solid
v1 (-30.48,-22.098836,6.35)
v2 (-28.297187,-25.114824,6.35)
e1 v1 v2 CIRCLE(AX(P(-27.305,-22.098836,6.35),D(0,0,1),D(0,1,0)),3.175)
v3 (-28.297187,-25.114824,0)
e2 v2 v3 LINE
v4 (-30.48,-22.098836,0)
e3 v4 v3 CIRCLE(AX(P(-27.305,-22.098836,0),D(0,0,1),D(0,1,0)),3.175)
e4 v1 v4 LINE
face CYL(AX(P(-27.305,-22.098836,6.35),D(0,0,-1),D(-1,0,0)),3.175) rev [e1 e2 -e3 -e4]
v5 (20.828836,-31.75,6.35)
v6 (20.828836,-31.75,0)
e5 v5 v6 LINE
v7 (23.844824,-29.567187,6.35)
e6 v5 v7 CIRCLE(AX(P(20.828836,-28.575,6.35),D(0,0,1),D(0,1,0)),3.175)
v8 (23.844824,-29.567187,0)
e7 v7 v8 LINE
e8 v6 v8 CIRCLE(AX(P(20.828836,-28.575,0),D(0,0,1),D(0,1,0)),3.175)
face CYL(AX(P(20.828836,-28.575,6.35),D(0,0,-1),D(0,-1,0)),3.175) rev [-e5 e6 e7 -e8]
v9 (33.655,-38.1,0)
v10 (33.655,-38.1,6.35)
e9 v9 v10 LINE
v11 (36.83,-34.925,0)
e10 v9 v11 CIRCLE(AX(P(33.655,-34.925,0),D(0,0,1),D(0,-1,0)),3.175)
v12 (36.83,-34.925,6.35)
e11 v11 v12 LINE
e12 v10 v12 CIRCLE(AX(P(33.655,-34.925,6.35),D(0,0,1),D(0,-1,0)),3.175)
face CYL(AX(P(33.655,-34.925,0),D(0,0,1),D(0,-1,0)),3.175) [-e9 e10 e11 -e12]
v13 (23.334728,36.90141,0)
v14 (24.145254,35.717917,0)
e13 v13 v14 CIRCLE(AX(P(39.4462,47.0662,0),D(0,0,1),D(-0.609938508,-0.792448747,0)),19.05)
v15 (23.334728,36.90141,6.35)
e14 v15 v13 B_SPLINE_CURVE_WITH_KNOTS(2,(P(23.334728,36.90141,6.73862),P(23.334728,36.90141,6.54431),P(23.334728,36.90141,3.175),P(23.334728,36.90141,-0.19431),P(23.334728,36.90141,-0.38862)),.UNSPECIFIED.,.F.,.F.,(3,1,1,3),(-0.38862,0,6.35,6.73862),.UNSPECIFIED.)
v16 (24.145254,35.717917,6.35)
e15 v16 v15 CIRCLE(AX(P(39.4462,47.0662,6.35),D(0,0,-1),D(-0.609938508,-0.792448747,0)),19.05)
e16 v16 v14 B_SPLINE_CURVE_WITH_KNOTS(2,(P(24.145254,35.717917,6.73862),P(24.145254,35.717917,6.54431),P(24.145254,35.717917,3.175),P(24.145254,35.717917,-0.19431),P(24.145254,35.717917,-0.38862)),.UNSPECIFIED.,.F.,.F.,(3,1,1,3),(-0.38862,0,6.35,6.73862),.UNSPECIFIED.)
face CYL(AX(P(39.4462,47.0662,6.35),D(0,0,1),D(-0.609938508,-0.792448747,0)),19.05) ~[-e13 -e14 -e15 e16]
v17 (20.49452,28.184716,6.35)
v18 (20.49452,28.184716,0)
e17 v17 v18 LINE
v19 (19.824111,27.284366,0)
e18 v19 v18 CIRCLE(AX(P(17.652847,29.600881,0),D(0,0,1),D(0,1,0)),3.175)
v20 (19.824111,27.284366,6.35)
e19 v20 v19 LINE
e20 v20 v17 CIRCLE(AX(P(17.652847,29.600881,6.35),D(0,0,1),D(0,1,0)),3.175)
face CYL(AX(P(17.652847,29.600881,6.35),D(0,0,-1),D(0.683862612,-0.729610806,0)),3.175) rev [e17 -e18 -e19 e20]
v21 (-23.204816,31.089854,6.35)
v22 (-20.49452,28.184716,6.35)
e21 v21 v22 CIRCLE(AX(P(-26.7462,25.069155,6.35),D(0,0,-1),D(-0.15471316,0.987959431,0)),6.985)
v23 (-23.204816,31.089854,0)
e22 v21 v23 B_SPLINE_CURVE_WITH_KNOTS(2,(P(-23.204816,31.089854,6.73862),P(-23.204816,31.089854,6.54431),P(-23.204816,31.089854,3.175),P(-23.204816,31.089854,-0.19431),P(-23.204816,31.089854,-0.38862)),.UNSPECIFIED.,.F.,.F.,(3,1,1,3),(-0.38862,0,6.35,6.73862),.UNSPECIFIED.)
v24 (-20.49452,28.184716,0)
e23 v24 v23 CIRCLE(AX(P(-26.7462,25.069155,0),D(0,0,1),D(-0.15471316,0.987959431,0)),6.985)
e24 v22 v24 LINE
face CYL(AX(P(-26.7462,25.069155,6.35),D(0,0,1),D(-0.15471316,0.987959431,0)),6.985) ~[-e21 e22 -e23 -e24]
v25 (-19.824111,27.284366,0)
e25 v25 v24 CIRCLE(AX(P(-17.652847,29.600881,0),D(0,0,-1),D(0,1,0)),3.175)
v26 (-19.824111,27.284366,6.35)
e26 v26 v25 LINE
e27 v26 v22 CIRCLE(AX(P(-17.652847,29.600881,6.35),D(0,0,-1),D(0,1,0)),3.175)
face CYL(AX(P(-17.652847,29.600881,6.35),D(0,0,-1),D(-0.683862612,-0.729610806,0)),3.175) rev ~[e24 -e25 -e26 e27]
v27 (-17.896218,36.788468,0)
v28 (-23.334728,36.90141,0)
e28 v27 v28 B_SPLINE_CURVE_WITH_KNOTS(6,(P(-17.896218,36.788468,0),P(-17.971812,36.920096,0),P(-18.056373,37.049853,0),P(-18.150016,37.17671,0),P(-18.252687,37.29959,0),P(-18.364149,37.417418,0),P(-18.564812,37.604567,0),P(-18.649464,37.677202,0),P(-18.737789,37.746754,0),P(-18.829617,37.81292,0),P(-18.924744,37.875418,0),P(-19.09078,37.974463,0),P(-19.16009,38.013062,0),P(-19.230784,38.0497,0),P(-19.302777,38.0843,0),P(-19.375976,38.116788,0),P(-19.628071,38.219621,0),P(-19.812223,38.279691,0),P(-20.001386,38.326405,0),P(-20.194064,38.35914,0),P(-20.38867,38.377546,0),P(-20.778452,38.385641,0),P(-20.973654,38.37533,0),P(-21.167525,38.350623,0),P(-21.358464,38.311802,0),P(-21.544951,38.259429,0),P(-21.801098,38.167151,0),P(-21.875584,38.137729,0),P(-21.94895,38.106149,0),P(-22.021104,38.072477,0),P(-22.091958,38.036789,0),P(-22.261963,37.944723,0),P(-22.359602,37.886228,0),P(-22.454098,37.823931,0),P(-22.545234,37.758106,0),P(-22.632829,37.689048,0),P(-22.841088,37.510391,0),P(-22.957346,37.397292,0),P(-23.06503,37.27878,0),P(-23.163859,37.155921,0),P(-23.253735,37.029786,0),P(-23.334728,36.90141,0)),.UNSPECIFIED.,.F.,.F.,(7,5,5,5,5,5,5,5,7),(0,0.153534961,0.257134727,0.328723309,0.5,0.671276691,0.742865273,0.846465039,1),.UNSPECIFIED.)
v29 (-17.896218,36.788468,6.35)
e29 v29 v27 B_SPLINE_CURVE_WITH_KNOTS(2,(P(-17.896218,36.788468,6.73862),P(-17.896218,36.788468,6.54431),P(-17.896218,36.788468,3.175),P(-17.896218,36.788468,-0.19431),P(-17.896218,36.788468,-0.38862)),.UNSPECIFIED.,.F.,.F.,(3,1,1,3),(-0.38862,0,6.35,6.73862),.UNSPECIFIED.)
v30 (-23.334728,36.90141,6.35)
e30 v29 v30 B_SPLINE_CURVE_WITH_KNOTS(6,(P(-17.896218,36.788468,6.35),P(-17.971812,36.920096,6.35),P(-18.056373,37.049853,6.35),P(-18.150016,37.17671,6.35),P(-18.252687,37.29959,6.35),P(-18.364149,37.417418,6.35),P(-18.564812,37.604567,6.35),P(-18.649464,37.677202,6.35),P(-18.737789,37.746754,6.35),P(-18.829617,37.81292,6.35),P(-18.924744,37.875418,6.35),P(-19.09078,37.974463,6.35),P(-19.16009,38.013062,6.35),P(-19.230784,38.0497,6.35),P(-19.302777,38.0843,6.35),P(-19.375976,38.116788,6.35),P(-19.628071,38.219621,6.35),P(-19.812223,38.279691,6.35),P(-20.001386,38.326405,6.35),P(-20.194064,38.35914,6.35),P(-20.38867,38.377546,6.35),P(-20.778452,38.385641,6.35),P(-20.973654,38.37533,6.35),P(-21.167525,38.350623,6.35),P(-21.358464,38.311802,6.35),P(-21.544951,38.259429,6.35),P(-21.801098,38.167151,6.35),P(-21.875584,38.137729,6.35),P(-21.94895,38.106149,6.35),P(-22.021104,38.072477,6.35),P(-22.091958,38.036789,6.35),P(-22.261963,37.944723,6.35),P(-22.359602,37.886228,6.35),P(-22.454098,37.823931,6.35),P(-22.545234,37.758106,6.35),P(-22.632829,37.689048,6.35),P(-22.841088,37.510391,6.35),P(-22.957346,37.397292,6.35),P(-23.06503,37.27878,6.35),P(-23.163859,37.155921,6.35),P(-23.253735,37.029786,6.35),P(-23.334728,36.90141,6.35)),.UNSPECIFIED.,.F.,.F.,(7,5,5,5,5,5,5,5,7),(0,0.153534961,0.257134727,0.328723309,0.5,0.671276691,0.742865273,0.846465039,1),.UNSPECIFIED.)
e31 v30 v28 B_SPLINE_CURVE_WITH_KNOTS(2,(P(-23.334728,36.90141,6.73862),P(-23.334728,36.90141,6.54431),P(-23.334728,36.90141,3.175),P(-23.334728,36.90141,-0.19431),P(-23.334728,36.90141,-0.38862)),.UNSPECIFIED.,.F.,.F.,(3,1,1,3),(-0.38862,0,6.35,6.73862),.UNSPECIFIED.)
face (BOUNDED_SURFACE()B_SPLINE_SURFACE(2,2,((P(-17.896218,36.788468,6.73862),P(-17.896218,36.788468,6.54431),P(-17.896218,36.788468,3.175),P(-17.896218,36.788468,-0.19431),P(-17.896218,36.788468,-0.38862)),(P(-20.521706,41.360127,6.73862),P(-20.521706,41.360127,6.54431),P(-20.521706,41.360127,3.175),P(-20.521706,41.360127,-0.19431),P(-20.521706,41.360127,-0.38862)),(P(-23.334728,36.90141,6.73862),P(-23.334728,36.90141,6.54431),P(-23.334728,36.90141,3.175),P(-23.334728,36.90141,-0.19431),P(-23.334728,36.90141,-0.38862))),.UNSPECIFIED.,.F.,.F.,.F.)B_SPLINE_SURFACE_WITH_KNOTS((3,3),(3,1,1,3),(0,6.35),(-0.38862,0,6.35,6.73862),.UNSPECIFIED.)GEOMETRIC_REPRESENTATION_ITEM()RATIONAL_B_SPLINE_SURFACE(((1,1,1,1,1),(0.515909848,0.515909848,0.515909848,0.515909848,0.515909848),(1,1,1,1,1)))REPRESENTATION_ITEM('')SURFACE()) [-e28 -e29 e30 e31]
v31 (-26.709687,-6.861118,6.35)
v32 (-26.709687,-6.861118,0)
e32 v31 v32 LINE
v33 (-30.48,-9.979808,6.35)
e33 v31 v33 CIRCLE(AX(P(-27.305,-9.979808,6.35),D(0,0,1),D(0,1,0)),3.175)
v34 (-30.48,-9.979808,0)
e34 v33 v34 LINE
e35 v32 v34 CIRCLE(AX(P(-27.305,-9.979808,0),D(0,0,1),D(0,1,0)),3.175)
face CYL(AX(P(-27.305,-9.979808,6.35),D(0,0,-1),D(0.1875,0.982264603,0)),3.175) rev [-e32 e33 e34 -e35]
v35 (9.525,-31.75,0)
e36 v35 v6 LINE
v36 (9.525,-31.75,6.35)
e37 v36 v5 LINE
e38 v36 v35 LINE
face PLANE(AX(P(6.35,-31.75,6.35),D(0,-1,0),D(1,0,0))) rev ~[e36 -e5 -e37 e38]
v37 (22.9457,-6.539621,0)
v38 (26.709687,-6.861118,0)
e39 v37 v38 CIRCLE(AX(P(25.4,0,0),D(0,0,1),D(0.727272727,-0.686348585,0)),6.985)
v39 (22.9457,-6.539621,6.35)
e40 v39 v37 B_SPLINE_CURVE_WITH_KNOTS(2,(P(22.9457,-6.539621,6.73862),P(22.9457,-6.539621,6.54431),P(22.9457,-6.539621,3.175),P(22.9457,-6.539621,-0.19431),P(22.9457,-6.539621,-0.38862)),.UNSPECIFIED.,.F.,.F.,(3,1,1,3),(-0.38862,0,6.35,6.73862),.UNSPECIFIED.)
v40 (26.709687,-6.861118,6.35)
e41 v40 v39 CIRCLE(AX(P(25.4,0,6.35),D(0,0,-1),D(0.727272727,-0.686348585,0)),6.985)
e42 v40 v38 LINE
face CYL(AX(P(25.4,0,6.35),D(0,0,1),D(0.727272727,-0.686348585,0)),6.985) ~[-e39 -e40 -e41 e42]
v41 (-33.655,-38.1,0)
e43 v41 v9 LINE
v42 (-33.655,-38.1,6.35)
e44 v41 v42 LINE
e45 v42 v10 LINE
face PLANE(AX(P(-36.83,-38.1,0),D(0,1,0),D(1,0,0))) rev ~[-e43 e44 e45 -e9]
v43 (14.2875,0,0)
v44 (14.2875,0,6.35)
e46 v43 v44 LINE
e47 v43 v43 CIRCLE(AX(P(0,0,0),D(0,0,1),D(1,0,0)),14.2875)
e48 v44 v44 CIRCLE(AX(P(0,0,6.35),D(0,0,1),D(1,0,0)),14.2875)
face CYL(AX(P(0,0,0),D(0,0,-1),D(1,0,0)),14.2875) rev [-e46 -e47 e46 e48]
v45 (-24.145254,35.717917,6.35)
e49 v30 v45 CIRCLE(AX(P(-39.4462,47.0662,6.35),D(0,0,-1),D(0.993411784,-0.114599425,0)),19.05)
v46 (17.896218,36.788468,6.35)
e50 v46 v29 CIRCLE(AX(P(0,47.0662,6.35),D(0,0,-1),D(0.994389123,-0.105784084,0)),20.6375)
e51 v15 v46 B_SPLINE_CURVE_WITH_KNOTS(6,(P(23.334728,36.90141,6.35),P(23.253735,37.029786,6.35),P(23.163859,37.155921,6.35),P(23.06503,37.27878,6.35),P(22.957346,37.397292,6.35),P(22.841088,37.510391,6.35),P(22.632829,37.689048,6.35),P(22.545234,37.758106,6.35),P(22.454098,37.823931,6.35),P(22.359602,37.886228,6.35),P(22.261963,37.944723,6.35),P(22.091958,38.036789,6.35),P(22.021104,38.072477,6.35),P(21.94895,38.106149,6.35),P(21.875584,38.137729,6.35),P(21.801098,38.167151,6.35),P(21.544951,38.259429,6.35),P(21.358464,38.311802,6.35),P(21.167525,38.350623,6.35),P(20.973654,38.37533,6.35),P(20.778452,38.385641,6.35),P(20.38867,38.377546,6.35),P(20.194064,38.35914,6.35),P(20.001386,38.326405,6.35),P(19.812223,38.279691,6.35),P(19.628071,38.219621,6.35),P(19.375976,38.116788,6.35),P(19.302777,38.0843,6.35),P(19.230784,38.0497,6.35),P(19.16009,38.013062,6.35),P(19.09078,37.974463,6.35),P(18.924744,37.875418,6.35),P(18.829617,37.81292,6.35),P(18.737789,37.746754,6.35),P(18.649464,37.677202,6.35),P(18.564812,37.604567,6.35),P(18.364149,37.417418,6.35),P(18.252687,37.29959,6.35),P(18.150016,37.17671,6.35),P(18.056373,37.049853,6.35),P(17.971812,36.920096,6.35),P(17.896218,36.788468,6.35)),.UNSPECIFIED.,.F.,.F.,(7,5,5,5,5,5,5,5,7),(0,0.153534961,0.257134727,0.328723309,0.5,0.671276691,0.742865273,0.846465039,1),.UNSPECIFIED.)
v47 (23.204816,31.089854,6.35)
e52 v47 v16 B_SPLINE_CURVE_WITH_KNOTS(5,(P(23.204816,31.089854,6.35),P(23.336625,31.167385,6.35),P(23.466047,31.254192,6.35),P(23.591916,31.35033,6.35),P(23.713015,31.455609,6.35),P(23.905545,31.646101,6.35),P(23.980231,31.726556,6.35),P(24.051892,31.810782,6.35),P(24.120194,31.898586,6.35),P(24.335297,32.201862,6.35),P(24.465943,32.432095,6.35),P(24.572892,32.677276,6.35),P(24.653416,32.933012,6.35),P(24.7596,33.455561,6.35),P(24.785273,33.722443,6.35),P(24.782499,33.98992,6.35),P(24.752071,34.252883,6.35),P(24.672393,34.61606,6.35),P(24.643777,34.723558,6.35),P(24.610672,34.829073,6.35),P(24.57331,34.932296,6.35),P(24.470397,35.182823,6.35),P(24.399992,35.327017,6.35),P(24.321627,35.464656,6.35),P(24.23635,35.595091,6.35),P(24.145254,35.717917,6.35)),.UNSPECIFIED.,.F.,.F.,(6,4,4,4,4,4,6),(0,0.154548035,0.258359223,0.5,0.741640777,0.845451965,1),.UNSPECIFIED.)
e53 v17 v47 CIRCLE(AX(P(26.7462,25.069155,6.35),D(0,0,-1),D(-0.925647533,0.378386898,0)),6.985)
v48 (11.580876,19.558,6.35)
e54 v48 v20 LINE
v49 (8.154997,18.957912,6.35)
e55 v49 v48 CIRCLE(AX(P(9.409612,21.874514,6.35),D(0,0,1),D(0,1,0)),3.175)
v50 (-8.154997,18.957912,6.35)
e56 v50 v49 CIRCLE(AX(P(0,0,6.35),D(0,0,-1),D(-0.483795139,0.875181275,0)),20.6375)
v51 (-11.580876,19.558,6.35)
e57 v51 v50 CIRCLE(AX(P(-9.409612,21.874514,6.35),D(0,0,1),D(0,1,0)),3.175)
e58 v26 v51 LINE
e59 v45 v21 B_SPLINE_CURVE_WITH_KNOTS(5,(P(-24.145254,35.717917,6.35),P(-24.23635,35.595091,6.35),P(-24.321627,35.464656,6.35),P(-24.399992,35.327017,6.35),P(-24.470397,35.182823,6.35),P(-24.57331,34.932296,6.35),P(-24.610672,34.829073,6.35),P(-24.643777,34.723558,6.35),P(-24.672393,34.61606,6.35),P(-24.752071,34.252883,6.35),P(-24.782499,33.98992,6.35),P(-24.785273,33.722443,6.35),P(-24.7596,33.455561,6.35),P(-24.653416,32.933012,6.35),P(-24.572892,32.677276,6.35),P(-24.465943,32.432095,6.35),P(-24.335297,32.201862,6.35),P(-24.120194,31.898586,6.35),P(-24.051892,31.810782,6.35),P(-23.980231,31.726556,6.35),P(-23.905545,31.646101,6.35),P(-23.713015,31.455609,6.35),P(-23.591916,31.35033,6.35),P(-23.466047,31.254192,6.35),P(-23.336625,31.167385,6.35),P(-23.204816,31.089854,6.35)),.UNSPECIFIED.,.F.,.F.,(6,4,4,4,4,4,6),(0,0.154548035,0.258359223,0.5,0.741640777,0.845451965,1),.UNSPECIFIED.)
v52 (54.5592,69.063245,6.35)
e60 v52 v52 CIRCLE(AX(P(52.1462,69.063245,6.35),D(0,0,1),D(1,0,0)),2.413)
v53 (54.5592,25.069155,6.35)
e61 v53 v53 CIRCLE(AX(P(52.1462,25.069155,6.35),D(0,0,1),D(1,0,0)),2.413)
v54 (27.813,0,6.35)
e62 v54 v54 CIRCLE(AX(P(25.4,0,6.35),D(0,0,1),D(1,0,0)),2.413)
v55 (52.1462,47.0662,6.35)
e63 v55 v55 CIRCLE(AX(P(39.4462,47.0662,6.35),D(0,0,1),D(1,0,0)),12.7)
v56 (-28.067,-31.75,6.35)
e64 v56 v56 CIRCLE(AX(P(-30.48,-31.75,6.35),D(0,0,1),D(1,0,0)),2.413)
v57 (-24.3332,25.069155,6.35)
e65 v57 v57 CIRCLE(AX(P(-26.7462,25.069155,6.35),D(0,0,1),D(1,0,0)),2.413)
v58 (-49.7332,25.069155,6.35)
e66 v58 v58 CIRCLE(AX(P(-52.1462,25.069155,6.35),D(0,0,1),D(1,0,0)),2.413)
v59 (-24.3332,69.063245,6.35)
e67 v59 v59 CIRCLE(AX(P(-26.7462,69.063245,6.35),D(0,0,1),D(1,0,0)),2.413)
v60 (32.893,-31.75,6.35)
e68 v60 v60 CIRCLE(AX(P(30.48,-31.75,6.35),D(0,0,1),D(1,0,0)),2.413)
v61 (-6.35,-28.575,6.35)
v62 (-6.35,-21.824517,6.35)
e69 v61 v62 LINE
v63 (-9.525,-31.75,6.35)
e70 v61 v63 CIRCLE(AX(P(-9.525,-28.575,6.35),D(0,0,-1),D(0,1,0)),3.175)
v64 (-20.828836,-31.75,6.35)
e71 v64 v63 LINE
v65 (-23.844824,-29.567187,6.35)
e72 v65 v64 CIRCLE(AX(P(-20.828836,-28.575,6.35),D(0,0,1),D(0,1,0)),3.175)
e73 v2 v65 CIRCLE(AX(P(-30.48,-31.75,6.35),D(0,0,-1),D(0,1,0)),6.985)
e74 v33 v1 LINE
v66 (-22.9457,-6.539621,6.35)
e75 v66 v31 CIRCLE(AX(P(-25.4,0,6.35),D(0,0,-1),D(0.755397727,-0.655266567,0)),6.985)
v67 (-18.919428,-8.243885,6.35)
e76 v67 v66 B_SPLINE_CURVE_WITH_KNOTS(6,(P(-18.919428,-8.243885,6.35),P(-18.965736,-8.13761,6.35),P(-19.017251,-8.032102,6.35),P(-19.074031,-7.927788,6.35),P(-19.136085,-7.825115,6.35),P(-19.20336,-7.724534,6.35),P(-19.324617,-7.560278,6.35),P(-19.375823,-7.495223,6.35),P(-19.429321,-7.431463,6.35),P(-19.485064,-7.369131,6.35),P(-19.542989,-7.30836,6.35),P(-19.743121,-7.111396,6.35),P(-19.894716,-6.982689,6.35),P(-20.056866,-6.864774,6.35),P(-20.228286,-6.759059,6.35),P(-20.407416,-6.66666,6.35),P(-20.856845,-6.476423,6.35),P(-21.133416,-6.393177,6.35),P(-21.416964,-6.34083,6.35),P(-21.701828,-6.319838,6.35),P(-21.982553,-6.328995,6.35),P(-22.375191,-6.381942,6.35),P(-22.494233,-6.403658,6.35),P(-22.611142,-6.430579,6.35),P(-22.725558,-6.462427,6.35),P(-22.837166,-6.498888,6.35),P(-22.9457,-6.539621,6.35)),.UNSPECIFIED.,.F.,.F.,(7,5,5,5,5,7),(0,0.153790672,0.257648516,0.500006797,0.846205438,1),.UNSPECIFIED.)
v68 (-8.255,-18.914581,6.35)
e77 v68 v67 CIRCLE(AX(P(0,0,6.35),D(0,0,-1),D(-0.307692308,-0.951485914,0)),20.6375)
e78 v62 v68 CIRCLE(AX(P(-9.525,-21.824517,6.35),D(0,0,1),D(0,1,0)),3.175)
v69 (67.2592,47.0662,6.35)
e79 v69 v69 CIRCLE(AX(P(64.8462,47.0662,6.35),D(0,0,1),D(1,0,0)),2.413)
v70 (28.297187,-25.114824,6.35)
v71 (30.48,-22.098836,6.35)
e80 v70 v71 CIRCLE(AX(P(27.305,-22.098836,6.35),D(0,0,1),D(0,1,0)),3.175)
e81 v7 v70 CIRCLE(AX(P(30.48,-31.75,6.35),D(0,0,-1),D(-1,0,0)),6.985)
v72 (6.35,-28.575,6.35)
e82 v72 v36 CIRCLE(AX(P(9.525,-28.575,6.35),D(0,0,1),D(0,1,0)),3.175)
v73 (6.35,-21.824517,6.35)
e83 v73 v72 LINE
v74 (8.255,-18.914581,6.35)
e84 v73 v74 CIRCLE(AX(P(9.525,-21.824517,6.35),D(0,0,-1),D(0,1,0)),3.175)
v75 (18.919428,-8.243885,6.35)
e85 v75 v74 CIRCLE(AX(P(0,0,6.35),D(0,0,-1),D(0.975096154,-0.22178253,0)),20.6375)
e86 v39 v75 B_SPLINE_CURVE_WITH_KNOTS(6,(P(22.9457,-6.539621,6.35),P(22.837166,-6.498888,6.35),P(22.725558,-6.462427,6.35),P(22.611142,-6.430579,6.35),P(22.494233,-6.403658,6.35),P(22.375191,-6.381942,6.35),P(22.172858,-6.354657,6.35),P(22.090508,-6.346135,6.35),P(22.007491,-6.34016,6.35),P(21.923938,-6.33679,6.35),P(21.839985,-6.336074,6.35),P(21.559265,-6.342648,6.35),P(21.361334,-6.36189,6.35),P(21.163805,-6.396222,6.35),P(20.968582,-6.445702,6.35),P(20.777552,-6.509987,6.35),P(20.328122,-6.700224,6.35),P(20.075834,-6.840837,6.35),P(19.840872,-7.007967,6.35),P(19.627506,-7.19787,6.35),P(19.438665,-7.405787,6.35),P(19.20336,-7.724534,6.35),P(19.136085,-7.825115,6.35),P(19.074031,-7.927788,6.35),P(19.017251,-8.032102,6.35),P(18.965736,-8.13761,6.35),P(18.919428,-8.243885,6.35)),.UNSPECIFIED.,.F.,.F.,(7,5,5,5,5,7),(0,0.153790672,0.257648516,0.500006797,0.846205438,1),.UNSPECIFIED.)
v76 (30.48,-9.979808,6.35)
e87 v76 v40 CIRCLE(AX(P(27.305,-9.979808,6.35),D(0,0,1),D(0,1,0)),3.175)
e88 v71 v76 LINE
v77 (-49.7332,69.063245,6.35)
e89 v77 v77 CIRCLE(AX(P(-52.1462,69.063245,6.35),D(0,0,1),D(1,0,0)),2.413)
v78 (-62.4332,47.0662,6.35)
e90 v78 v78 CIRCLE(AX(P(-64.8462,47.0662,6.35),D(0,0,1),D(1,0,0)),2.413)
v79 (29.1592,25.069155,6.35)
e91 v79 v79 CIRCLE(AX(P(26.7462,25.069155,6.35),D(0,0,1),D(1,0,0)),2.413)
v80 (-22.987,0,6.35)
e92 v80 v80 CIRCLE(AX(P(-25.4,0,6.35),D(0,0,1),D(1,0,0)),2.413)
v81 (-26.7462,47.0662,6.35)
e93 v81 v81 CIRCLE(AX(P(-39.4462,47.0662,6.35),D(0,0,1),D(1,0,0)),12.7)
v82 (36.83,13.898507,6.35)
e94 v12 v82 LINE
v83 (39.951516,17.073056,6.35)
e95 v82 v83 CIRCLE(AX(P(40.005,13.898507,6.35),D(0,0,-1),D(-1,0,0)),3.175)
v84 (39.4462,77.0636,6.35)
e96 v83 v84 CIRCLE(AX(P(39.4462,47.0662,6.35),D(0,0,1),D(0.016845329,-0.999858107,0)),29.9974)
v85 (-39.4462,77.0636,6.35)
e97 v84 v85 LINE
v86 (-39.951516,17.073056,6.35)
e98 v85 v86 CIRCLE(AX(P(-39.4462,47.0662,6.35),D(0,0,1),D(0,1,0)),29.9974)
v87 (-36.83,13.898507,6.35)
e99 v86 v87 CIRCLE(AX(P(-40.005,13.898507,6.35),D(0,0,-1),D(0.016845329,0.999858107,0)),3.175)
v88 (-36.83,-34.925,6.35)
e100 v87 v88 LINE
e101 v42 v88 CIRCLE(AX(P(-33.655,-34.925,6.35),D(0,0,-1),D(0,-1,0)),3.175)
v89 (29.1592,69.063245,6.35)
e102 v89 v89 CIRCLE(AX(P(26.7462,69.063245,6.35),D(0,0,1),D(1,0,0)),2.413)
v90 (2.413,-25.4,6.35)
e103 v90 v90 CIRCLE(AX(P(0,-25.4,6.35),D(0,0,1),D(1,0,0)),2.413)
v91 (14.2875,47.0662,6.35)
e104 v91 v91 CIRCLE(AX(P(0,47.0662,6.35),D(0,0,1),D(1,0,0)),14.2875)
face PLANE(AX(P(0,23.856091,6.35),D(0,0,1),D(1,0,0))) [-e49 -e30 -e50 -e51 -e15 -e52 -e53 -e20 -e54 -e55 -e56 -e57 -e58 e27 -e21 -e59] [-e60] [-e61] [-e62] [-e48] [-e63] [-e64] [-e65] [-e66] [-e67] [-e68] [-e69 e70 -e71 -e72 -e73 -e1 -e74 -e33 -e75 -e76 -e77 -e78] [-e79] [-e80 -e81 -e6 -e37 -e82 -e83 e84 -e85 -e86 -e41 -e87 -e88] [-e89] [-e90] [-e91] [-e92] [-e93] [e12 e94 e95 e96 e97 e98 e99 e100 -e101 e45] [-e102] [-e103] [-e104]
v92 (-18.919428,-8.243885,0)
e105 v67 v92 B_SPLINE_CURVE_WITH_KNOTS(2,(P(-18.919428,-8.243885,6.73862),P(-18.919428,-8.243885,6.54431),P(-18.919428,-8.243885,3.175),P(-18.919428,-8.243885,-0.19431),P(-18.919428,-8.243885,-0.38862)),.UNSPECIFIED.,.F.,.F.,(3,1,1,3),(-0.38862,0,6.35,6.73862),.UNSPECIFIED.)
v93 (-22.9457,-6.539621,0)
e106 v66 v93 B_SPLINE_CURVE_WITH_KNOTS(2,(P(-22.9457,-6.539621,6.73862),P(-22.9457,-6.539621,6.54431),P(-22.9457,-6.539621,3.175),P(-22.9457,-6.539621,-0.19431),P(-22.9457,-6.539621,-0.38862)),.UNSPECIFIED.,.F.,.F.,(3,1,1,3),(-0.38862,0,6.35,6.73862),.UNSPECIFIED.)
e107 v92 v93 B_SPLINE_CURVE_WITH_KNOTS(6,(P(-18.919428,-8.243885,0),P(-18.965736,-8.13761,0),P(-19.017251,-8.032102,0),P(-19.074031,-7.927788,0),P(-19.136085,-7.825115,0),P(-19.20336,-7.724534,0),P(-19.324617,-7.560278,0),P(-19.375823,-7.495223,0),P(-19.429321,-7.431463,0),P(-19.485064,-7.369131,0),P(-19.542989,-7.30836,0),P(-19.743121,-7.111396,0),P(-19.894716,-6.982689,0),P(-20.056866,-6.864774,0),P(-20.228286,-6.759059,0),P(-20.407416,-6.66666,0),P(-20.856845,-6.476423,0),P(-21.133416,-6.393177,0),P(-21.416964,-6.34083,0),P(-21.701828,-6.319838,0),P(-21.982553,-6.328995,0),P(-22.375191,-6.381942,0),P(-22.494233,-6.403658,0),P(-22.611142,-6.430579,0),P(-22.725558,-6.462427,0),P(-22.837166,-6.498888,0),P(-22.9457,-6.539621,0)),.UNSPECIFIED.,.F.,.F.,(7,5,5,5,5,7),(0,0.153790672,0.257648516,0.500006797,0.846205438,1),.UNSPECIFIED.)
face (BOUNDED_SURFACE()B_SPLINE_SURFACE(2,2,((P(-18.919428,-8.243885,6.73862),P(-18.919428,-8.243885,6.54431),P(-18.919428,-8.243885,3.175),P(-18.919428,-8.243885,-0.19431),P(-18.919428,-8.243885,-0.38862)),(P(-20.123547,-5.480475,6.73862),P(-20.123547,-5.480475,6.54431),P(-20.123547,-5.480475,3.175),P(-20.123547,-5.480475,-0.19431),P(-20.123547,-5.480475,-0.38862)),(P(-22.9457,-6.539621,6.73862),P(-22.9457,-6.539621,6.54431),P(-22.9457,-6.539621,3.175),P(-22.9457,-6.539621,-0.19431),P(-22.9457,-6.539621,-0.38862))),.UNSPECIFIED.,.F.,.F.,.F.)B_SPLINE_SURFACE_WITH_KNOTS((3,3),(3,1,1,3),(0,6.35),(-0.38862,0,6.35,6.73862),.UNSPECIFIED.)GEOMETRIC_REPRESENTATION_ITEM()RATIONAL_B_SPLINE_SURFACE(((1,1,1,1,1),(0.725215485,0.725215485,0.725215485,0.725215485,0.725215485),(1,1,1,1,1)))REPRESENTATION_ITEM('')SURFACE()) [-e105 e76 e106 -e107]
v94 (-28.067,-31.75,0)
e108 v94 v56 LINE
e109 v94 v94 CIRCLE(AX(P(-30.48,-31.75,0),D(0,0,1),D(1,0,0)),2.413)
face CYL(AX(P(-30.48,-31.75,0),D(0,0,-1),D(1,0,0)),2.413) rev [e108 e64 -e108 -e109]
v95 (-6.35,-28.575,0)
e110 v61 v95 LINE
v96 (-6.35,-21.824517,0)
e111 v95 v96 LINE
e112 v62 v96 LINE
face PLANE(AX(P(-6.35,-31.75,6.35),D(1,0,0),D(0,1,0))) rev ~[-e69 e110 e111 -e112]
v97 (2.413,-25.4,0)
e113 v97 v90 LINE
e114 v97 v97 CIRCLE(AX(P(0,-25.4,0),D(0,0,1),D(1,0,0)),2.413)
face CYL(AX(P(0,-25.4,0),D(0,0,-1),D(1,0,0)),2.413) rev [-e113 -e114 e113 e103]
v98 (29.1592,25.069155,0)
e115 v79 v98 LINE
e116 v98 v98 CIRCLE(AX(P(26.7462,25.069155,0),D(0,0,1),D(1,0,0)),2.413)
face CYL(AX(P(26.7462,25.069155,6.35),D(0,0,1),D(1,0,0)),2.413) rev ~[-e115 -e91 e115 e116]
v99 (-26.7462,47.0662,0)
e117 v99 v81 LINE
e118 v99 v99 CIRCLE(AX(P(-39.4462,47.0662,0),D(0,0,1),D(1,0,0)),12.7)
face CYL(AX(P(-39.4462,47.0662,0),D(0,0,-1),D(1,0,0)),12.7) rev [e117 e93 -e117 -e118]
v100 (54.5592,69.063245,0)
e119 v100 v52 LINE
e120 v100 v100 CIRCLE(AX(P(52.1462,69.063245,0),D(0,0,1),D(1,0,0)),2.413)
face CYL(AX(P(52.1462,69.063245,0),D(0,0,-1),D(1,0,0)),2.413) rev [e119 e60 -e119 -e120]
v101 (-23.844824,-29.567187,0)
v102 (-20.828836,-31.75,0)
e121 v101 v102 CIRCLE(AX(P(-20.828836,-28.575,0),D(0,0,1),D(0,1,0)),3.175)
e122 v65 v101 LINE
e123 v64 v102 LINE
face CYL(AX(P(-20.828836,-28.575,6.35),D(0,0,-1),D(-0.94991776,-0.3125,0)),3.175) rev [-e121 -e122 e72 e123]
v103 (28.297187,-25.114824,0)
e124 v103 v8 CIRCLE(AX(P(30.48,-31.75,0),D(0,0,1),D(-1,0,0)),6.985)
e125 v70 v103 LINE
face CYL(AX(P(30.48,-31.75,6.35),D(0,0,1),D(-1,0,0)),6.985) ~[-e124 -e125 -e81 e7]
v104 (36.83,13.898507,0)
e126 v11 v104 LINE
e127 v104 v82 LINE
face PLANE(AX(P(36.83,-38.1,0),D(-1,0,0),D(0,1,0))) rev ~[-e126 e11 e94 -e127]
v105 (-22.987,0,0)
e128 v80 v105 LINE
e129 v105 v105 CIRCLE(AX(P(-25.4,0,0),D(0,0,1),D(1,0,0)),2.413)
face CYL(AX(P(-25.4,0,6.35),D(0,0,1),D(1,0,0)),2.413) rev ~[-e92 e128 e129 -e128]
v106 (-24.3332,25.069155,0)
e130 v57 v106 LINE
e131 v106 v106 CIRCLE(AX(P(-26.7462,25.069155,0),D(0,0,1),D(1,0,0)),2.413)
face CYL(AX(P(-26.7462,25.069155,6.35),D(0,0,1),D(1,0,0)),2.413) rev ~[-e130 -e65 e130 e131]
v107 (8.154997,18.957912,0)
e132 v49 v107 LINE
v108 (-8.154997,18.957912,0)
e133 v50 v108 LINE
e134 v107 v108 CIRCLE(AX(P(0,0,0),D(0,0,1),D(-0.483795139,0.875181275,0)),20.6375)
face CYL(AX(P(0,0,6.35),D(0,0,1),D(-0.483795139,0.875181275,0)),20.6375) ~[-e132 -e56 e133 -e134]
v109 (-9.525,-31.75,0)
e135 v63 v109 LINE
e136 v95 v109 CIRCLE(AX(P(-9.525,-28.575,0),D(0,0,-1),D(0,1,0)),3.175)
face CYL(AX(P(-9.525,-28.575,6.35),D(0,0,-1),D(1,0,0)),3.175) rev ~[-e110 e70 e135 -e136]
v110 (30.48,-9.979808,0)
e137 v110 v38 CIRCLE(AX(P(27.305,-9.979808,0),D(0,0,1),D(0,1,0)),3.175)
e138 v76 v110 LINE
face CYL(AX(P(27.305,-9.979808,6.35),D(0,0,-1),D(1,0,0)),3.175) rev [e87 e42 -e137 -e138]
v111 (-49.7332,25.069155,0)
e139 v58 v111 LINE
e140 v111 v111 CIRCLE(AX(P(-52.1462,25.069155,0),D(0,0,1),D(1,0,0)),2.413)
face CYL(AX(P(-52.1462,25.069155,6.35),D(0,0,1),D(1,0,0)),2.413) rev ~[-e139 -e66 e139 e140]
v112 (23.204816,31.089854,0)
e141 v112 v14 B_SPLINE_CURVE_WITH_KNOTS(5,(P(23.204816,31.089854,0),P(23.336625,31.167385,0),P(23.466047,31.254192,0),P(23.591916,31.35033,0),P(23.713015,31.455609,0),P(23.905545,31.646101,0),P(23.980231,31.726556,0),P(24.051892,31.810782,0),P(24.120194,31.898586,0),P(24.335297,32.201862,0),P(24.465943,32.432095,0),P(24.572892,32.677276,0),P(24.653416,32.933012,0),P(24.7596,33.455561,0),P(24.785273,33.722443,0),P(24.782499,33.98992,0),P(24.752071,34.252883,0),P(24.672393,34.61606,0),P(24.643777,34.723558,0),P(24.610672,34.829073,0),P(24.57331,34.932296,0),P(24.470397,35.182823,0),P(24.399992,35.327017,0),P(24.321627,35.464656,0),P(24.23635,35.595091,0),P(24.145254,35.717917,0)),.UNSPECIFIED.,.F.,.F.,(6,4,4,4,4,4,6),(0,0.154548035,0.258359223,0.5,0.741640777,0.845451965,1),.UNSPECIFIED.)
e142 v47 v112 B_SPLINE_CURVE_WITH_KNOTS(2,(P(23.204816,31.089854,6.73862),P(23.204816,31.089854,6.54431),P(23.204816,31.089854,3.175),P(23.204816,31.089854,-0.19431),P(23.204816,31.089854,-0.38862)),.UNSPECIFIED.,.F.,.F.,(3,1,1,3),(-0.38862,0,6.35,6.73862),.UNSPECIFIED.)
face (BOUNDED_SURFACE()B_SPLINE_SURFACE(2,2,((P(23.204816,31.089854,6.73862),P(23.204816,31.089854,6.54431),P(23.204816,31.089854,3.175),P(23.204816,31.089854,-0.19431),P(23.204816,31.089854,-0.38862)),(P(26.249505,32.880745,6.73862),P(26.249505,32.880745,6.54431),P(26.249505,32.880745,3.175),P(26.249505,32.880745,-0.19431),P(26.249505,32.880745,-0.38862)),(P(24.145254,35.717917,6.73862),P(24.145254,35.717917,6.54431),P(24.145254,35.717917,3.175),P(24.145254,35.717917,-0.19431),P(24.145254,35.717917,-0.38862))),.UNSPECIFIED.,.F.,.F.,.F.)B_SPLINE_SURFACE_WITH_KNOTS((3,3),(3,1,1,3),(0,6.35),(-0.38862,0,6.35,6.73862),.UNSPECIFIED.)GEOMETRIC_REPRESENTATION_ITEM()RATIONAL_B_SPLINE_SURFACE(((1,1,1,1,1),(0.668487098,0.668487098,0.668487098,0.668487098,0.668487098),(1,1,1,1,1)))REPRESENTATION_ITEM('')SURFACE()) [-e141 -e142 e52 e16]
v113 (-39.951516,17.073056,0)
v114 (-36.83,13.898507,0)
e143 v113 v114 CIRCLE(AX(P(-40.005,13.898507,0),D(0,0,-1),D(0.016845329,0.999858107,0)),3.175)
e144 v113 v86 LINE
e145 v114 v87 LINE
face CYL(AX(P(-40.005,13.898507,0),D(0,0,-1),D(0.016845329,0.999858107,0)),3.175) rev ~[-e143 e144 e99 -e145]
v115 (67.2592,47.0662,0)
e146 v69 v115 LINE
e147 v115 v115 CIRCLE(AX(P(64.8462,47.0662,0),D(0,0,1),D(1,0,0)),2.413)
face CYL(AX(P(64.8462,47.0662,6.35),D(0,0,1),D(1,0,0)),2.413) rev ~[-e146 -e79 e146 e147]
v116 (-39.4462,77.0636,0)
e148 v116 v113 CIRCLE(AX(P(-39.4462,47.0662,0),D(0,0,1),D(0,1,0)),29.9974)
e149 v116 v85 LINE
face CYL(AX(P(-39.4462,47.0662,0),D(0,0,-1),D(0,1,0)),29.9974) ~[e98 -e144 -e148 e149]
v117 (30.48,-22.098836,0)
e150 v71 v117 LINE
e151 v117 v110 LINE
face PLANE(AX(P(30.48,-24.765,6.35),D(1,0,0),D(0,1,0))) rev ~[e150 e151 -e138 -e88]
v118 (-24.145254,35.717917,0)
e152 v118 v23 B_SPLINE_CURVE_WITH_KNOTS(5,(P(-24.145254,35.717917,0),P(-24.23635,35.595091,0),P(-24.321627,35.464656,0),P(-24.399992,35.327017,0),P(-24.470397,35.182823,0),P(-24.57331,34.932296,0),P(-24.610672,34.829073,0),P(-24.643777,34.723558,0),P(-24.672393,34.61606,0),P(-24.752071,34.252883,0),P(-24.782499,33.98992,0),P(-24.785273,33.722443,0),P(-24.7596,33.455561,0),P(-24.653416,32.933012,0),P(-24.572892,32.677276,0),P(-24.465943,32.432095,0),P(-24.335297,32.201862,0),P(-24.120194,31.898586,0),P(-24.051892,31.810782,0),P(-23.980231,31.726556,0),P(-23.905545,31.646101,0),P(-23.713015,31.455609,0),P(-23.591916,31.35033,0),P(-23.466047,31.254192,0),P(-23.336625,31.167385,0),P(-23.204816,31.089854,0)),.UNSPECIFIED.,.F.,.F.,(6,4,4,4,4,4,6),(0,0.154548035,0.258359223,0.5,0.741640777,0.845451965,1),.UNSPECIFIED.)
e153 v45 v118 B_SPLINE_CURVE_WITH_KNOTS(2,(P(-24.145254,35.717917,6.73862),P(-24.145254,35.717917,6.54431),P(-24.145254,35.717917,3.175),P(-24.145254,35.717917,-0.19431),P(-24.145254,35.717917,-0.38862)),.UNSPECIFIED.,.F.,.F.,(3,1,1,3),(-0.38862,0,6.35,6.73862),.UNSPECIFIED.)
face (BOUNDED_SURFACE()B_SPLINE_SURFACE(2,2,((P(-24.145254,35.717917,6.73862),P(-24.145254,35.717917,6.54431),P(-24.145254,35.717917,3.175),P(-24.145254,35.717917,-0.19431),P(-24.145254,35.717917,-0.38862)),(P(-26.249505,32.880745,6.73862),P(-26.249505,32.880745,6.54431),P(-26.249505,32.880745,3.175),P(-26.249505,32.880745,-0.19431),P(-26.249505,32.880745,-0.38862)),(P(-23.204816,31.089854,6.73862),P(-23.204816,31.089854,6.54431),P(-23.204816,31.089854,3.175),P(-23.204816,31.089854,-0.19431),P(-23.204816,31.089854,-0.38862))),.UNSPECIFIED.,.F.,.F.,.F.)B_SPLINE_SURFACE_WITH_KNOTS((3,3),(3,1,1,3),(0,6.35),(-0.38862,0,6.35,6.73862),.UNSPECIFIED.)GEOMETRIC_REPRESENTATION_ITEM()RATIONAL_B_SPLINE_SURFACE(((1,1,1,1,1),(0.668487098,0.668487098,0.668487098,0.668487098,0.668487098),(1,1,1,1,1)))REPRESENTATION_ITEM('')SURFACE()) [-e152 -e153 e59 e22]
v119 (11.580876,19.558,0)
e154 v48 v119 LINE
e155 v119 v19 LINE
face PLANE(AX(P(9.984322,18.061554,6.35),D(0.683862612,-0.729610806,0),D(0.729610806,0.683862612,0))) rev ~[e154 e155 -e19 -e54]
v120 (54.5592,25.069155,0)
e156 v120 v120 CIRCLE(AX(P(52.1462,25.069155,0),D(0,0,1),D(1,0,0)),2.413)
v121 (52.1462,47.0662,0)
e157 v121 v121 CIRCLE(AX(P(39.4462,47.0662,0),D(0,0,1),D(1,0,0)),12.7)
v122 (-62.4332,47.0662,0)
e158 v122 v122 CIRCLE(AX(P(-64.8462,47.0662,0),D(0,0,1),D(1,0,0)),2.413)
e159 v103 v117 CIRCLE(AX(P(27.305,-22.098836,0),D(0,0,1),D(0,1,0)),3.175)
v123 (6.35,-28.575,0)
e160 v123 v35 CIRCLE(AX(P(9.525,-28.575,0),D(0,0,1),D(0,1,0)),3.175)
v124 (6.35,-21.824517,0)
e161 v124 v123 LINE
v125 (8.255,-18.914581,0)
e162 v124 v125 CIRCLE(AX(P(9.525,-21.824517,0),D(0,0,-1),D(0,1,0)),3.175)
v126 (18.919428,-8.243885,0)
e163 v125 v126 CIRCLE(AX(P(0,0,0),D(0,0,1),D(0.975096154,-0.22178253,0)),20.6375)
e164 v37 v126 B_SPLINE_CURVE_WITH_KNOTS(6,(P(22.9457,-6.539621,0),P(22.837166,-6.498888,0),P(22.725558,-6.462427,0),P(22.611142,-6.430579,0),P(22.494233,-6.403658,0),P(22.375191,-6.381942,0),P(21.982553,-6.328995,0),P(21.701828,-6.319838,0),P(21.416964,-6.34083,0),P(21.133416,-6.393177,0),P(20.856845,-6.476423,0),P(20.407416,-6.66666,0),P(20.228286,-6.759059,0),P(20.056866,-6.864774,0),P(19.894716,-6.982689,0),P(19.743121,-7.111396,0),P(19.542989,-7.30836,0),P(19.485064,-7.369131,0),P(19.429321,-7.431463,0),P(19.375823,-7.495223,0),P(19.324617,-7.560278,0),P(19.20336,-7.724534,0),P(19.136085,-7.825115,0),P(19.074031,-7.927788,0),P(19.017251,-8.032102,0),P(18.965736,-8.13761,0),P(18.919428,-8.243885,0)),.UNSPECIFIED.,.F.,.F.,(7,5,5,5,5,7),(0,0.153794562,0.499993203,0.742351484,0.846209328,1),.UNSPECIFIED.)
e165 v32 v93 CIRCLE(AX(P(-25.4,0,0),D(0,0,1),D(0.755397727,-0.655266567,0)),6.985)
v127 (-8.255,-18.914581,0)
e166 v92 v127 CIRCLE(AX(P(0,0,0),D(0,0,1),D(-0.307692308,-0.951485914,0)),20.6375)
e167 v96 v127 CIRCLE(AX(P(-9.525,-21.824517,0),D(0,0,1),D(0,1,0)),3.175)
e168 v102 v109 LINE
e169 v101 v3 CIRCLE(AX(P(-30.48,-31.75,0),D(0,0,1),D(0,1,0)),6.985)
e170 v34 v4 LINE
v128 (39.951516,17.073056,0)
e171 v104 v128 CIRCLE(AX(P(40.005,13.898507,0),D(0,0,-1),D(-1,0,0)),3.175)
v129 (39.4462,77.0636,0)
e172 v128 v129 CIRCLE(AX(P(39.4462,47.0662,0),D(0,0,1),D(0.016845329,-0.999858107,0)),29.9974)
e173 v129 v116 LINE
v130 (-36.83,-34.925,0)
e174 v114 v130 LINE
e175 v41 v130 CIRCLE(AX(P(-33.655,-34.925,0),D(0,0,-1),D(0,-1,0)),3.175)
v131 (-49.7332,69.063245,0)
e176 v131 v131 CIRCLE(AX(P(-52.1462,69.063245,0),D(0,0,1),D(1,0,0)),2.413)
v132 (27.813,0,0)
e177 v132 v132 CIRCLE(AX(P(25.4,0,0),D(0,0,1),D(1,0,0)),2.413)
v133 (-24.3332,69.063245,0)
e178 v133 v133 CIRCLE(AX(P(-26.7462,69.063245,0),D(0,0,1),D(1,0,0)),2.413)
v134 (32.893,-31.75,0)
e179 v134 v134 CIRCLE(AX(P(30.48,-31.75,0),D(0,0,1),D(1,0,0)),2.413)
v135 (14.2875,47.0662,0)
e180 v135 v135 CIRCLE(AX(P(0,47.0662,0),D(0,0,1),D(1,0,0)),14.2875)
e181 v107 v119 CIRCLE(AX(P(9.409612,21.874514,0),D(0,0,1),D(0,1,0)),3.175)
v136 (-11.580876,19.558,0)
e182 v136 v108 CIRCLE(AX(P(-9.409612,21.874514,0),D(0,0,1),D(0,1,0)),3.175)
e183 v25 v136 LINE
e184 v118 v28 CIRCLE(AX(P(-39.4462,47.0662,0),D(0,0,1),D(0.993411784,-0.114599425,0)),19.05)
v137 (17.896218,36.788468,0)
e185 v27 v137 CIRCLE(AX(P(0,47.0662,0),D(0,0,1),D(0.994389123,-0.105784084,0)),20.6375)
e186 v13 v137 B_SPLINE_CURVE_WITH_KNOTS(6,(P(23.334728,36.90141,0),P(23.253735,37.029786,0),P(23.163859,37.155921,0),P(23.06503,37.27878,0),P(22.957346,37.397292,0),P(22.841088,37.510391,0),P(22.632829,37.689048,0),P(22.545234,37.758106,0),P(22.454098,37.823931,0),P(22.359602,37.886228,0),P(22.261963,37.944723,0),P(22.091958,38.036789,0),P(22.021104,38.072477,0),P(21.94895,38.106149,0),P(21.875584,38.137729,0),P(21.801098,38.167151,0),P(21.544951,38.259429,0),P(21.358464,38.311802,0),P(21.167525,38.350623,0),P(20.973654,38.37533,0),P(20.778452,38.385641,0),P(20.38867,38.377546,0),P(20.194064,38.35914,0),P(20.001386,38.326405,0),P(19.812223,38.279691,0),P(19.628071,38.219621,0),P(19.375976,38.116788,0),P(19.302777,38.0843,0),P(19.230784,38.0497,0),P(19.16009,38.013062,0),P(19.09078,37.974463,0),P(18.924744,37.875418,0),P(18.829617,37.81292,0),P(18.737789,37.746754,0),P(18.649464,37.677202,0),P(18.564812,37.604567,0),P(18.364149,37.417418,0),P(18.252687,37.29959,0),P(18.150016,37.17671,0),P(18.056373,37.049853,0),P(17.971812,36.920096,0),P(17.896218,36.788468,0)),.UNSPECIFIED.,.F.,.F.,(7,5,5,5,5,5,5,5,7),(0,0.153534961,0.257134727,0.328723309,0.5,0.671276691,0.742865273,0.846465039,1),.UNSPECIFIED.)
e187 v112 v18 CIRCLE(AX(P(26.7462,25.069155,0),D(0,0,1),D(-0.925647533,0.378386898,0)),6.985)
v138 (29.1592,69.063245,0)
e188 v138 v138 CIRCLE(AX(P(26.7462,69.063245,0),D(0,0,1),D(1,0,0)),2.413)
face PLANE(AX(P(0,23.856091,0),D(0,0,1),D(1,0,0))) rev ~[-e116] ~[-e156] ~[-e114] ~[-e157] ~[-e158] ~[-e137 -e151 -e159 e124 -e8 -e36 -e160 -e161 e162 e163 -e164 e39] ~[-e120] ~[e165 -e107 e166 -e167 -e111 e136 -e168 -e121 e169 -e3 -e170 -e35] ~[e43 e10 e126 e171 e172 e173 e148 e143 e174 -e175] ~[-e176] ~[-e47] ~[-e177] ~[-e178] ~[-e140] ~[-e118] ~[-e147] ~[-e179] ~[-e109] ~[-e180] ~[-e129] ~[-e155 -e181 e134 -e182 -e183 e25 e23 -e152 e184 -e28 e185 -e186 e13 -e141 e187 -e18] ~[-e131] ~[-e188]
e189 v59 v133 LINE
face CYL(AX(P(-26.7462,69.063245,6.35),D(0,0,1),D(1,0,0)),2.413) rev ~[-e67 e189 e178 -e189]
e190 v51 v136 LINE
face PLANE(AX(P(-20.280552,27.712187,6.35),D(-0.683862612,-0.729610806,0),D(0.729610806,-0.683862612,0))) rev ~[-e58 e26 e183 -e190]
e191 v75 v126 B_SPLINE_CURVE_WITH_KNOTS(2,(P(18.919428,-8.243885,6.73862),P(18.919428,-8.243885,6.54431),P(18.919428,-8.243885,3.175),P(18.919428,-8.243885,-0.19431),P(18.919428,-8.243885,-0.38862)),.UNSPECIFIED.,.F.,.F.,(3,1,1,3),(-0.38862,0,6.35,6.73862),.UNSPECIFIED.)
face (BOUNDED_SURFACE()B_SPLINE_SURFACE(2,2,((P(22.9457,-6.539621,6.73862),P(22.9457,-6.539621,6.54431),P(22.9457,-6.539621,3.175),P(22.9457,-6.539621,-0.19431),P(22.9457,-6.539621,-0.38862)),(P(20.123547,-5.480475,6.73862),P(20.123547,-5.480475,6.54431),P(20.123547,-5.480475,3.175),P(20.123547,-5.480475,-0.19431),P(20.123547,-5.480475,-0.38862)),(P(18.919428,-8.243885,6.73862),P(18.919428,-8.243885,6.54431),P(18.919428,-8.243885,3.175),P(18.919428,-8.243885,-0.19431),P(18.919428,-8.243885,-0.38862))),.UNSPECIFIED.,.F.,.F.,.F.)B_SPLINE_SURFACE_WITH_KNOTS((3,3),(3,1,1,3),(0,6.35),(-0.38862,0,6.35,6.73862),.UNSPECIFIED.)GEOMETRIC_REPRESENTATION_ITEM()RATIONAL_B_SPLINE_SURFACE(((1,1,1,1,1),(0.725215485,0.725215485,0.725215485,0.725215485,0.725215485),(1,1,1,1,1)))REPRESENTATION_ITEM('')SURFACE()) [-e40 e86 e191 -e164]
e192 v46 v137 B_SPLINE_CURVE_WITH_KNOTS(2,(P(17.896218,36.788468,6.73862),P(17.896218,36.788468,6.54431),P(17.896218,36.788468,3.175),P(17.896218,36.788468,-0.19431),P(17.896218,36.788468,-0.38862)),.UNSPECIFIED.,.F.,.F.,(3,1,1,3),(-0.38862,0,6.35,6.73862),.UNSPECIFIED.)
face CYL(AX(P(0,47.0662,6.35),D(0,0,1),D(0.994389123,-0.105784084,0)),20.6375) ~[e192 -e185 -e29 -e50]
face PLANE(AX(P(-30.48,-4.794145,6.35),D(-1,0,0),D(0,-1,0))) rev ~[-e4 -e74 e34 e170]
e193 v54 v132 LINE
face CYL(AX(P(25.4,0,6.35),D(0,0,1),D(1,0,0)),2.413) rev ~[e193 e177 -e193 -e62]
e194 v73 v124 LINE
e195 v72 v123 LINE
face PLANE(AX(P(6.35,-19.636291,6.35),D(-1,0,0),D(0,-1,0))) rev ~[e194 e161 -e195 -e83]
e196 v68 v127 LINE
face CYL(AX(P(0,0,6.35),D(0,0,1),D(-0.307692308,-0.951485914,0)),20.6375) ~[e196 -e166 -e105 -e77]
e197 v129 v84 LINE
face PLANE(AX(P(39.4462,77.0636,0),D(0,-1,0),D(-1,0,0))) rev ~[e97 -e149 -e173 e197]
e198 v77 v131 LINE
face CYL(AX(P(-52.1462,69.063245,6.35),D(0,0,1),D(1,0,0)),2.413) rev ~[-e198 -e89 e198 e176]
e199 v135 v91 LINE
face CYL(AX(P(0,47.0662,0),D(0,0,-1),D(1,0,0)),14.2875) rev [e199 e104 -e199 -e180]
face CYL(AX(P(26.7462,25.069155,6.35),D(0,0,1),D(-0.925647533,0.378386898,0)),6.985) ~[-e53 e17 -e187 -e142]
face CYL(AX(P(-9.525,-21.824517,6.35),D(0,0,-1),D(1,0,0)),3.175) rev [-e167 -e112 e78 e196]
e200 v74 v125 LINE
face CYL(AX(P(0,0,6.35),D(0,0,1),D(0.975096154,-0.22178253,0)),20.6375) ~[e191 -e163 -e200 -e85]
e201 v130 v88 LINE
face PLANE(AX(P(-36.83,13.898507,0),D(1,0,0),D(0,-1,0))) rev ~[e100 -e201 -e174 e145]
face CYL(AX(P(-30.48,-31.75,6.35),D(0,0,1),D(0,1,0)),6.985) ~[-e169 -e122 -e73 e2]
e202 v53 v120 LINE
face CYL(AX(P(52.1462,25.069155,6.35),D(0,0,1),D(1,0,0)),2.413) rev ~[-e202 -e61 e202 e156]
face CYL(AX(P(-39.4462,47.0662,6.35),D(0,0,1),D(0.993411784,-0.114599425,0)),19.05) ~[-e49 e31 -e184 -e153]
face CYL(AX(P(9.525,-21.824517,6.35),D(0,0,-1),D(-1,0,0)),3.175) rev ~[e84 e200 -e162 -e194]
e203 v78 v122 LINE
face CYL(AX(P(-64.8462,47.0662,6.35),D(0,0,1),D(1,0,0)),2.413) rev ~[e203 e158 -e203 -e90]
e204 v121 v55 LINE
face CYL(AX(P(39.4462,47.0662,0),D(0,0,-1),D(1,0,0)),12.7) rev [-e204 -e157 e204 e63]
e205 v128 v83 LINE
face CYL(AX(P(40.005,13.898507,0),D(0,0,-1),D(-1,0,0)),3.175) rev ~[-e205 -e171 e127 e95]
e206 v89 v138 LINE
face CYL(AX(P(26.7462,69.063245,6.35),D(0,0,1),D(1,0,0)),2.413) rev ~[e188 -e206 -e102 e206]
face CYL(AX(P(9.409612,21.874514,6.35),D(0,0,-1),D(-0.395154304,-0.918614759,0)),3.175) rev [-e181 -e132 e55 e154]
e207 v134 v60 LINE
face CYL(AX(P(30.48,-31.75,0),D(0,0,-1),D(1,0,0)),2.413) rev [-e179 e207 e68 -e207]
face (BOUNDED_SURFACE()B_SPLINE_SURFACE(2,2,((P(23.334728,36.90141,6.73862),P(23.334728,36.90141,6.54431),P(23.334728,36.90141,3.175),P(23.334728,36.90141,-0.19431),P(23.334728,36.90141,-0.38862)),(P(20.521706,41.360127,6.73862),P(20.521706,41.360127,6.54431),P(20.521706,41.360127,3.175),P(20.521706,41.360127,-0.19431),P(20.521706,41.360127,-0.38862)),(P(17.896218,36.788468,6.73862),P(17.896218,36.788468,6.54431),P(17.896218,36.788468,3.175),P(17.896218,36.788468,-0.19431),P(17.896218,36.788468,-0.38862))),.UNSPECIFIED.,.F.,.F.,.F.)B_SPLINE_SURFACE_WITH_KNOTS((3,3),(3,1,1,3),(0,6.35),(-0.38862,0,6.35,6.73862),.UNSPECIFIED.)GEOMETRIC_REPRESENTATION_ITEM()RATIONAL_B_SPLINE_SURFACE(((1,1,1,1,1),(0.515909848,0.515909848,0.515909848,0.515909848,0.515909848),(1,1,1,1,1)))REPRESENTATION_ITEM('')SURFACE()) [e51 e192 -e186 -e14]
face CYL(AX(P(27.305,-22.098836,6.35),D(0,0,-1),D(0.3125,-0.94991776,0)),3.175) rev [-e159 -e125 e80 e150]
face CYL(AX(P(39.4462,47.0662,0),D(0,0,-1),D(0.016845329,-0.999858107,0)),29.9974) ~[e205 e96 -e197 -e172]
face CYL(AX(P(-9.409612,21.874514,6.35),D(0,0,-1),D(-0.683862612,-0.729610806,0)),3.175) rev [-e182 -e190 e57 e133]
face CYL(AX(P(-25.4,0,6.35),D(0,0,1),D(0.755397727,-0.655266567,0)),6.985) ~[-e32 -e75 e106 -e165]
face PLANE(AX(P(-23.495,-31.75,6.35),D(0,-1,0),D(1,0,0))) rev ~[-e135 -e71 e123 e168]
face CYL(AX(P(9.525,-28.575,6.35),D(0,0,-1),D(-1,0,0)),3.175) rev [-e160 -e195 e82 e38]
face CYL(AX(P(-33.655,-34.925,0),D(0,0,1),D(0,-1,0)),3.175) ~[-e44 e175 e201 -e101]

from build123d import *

# Parameters (mm, degrees)
SKETCH1_R           = 2.413
SKETCH1_R_2         = 14.2875
SKETCH1_R_3         = 12.7
BOSS_EXTRUDE1_DEPTH = 6.35
SKETCH2_R           = 2.413
CUT_EXTRUDE1_DEPTH  = 104.930431183
SKETCH3_R           = 2.413
CUT_EXTRUDE2_DEPTH  = 104.930431183
FILLET1_R           = 3.175
CUT_EXTRUDE4_DEPTH  = 104.930431183
FILLET2_R           = 3.175


with BuildPart() as part:
    # Sketch1 → Boss-Extrude1 (new body)
    with BuildSketch(Plane.XY):
        with BuildLine():
            Line((-36.83, -38.1), (36.83, -38.1))
            Line((36.83, -38.1), (36.83, 0))
            Line((36.83, 0), (36.83, 13.898506919))
            ThreePointArc((36.83, 13.898506919), (37.741105518, 16.124581216), (39.95151608, 17.07305641))
            ThreePointArc((39.95151608, 17.07305641), (69.442535879, 47.318867003), (39.4462, 77.0636))
            Line((39.4462, 77.0636), (-39.4462, 77.0636))
            ThreePointArc((-39.4462, 77.0636), (-69.442535879, 47.318867003), (-39.95151608, 17.07305641))
            ThreePointArc((-39.95151608, 17.07305641), (-37.741105518, 16.124581216), (-36.83, 13.898506919))
            Line((-36.83, 13.898506919), (-36.83, 0))
            Line((-36.83, 0), (-36.83, -38.1))
        make_face()
        with Locations((-30.48, -31.75)):
            Circle(SKETCH1_R, mode=Mode.SUBTRACT)
        with Locations((0, -25.4)):
            Circle(SKETCH1_R, mode=Mode.SUBTRACT)
        with Locations((30.48, -31.75)):
            Circle(SKETCH1_R, mode=Mode.SUBTRACT)
        Circle(SKETCH1_R_2, mode=Mode.SUBTRACT)
        with Locations((-39.4462, 47.0662)):
            Circle(SKETCH1_R_3, mode=Mode.SUBTRACT)
        with Locations((0, 47.0662)):
            Circle(SKETCH1_R_2, mode=Mode.SUBTRACT)
        with Locations((39.4462, 47.0662)):
            Circle(SKETCH1_R_3, mode=Mode.SUBTRACT)
        with Locations((52.1462, 69.063245256)):
            Circle(SKETCH1_R, mode=Mode.SUBTRACT)
    extrude(amount=BOSS_EXTRUDE1_DEPTH)

    # Sketch2 → Cut-Extrude1 (cut, through all)
    with BuildSketch(Plane.XY.offset(6.35)):
        with Locations((-25.4, 0)):
            Circle(SKETCH2_R)
        with Locations((25.4, 0)):
            Circle(SKETCH2_R)
    extrude(amount=-CUT_EXTRUDE1_DEPTH, mode=Mode.SUBTRACT)

    # Sketch3 → Cut-Extrude2 (cut, through all)
    with BuildSketch(Plane.XY.offset(6.35)):
        with Locations((-26.7462, 25.069154744)):
            Circle(SKETCH3_R)
        with Locations((-52.1462, 25.069154744)):
            Circle(SKETCH3_R)
        with Locations((-64.8462, 47.0662)):
            Circle(SKETCH3_R)
        with Locations((-52.1462, 69.063245256)):
            Circle(SKETCH3_R)
        with Locations((-26.7462, 69.063245256)):
            Circle(SKETCH3_R)
        with Locations((26.7462, 25.069154744)):
            Circle(SKETCH3_R)
        with Locations((52.1462, 25.069154744)):
            Circle(SKETCH3_R)
        with Locations((52.1462, 69.063245256)):
            Circle(SKETCH3_R)
        with Locations((64.8462, 47.0662)):
            Circle(SKETCH3_R)
        with Locations((26.7462, 69.063245256)):
            Circle(SKETCH3_R)
    extrude(amount=-CUT_EXTRUDE2_DEPTH, mode=Mode.SUBTRACT)

    # Fillet1
    fillet1_edges = [part.edges().sort_by_distance(p)[0] for p in [
        (36.83, -38.1, 3.175),
        (-36.83, -38.1, 3.175),
    ]]
    fillet(fillet1_edges, radius=FILLET1_R)

    # Sketch4 → Cut-Extrude4 (cut, through all)
    with BuildSketch(Plane.XY.offset(6.35)):
        with BuildLine():
            Line((-20.280551981, 27.712187223), (-9.984322179, 18.061553557))
            ThreePointArc((-9.984322179, 18.061553557), (0, 20.6375), (9.984322179, 18.061553557))
            Line((9.984322179, 18.061553557), (20.280551981, 27.712187223))
            ThreePointArc((20.280551981, 27.712187223), (23.31373077, 31.152606065), (27.826871421, 31.970051372))
            ThreePointArc((27.826871421, 31.970051372), (22.865552696, 37.686187475), (20.521705522, 44.883080962))
            ThreePointArc((20.521705522, 44.883080962), (0, 26.4287), (-20.521705522, 44.883080962))
            ThreePointArc((-20.521705522, 44.883080962), (-22.865552696, 37.686187475), (-27.826871421, 31.970051372))
            ThreePointArc((-27.826871421, 31.970051372), (-23.31373077, 31.152606065), (-20.280551981, 27.712187223))
        make_face()
        with BuildLine():
            ThreePointArc((20.123546875, -4.577036969), (15.228507825, -13.928350788), (6.35, -19.636290542))
            Line((6.35, -19.636290542), (6.35, -31.75))
            Line((6.35, -31.75), (23.495, -31.75))
            ThreePointArc((23.495, -31.75), (25.540859133, -26.810859133), (30.48, -24.765))
            Line((30.48, -24.765), (30.48, -4.794144866))
            ThreePointArc((30.48, -4.794144866), (25.253601853, -6.983465657), (20.123546875, -4.577036969))
        make_face()
        with BuildLine():
            Line((-6.35, -31.75), (-6.35, -19.636290542))
            ThreePointArc((-6.35, -19.636290542), (-15.228507825, -13.928350788), (-20.123546875, -4.577036969))
            ThreePointArc((-20.123546875, -4.577036969), (-25.253601853, -6.983465657), (-30.48, -4.794144866))
            Line((-30.48, -4.794144866), (-30.48, -24.765))
            ThreePointArc((-30.48, -24.765), (-25.540859133, -26.810859133), (-23.495, -31.75))
            Line((-23.495, -31.75), (-6.35, -31.75))
        make_face()
    extrude(amount=-CUT_EXTRUDE4_DEPTH, mode=Mode.SUBTRACT)

    # Fillet2
    fillet2_edges = [part.edges().sort_by_distance(p)[0] for p in [
        (-27.826871421, 31.970051372, 3.175),
        (-20.521705522, 44.883080962, 3.175),
        (20.521705522, 44.883080962, 3.175),
        (27.826871421, 31.970051372, 3.175),
        (20.280551981, 27.712187223, 3.175),
        (9.984322179, 18.061553557, 3.175),
        (-9.984322179, 18.061553557, 3.175),
        (-20.280551981, 27.712187223, 3.175),
        (20.123546875, -4.577036969, 3.175),
        (30.48, -4.794144866, 3.175),
        (30.48, -24.765, 3.175),
        (23.495, -31.75, 3.175),
        (6.35, -31.75, 3.175),
        (6.35, -19.636290542, 3.175),
        (-30.48, -4.794144866, 3.175),
        (-20.123546875, -4.577036969, 3.175),
        (-6.35, -19.636290542, 3.175),
        (-6.35, -31.75, 3.175),
        (-23.495, -31.75, 3.175),
        (-30.48, -24.765, 3.175),
    ]]
    fillet(fillet2_edges, radius=FILLET2_R)


solid = part.part
